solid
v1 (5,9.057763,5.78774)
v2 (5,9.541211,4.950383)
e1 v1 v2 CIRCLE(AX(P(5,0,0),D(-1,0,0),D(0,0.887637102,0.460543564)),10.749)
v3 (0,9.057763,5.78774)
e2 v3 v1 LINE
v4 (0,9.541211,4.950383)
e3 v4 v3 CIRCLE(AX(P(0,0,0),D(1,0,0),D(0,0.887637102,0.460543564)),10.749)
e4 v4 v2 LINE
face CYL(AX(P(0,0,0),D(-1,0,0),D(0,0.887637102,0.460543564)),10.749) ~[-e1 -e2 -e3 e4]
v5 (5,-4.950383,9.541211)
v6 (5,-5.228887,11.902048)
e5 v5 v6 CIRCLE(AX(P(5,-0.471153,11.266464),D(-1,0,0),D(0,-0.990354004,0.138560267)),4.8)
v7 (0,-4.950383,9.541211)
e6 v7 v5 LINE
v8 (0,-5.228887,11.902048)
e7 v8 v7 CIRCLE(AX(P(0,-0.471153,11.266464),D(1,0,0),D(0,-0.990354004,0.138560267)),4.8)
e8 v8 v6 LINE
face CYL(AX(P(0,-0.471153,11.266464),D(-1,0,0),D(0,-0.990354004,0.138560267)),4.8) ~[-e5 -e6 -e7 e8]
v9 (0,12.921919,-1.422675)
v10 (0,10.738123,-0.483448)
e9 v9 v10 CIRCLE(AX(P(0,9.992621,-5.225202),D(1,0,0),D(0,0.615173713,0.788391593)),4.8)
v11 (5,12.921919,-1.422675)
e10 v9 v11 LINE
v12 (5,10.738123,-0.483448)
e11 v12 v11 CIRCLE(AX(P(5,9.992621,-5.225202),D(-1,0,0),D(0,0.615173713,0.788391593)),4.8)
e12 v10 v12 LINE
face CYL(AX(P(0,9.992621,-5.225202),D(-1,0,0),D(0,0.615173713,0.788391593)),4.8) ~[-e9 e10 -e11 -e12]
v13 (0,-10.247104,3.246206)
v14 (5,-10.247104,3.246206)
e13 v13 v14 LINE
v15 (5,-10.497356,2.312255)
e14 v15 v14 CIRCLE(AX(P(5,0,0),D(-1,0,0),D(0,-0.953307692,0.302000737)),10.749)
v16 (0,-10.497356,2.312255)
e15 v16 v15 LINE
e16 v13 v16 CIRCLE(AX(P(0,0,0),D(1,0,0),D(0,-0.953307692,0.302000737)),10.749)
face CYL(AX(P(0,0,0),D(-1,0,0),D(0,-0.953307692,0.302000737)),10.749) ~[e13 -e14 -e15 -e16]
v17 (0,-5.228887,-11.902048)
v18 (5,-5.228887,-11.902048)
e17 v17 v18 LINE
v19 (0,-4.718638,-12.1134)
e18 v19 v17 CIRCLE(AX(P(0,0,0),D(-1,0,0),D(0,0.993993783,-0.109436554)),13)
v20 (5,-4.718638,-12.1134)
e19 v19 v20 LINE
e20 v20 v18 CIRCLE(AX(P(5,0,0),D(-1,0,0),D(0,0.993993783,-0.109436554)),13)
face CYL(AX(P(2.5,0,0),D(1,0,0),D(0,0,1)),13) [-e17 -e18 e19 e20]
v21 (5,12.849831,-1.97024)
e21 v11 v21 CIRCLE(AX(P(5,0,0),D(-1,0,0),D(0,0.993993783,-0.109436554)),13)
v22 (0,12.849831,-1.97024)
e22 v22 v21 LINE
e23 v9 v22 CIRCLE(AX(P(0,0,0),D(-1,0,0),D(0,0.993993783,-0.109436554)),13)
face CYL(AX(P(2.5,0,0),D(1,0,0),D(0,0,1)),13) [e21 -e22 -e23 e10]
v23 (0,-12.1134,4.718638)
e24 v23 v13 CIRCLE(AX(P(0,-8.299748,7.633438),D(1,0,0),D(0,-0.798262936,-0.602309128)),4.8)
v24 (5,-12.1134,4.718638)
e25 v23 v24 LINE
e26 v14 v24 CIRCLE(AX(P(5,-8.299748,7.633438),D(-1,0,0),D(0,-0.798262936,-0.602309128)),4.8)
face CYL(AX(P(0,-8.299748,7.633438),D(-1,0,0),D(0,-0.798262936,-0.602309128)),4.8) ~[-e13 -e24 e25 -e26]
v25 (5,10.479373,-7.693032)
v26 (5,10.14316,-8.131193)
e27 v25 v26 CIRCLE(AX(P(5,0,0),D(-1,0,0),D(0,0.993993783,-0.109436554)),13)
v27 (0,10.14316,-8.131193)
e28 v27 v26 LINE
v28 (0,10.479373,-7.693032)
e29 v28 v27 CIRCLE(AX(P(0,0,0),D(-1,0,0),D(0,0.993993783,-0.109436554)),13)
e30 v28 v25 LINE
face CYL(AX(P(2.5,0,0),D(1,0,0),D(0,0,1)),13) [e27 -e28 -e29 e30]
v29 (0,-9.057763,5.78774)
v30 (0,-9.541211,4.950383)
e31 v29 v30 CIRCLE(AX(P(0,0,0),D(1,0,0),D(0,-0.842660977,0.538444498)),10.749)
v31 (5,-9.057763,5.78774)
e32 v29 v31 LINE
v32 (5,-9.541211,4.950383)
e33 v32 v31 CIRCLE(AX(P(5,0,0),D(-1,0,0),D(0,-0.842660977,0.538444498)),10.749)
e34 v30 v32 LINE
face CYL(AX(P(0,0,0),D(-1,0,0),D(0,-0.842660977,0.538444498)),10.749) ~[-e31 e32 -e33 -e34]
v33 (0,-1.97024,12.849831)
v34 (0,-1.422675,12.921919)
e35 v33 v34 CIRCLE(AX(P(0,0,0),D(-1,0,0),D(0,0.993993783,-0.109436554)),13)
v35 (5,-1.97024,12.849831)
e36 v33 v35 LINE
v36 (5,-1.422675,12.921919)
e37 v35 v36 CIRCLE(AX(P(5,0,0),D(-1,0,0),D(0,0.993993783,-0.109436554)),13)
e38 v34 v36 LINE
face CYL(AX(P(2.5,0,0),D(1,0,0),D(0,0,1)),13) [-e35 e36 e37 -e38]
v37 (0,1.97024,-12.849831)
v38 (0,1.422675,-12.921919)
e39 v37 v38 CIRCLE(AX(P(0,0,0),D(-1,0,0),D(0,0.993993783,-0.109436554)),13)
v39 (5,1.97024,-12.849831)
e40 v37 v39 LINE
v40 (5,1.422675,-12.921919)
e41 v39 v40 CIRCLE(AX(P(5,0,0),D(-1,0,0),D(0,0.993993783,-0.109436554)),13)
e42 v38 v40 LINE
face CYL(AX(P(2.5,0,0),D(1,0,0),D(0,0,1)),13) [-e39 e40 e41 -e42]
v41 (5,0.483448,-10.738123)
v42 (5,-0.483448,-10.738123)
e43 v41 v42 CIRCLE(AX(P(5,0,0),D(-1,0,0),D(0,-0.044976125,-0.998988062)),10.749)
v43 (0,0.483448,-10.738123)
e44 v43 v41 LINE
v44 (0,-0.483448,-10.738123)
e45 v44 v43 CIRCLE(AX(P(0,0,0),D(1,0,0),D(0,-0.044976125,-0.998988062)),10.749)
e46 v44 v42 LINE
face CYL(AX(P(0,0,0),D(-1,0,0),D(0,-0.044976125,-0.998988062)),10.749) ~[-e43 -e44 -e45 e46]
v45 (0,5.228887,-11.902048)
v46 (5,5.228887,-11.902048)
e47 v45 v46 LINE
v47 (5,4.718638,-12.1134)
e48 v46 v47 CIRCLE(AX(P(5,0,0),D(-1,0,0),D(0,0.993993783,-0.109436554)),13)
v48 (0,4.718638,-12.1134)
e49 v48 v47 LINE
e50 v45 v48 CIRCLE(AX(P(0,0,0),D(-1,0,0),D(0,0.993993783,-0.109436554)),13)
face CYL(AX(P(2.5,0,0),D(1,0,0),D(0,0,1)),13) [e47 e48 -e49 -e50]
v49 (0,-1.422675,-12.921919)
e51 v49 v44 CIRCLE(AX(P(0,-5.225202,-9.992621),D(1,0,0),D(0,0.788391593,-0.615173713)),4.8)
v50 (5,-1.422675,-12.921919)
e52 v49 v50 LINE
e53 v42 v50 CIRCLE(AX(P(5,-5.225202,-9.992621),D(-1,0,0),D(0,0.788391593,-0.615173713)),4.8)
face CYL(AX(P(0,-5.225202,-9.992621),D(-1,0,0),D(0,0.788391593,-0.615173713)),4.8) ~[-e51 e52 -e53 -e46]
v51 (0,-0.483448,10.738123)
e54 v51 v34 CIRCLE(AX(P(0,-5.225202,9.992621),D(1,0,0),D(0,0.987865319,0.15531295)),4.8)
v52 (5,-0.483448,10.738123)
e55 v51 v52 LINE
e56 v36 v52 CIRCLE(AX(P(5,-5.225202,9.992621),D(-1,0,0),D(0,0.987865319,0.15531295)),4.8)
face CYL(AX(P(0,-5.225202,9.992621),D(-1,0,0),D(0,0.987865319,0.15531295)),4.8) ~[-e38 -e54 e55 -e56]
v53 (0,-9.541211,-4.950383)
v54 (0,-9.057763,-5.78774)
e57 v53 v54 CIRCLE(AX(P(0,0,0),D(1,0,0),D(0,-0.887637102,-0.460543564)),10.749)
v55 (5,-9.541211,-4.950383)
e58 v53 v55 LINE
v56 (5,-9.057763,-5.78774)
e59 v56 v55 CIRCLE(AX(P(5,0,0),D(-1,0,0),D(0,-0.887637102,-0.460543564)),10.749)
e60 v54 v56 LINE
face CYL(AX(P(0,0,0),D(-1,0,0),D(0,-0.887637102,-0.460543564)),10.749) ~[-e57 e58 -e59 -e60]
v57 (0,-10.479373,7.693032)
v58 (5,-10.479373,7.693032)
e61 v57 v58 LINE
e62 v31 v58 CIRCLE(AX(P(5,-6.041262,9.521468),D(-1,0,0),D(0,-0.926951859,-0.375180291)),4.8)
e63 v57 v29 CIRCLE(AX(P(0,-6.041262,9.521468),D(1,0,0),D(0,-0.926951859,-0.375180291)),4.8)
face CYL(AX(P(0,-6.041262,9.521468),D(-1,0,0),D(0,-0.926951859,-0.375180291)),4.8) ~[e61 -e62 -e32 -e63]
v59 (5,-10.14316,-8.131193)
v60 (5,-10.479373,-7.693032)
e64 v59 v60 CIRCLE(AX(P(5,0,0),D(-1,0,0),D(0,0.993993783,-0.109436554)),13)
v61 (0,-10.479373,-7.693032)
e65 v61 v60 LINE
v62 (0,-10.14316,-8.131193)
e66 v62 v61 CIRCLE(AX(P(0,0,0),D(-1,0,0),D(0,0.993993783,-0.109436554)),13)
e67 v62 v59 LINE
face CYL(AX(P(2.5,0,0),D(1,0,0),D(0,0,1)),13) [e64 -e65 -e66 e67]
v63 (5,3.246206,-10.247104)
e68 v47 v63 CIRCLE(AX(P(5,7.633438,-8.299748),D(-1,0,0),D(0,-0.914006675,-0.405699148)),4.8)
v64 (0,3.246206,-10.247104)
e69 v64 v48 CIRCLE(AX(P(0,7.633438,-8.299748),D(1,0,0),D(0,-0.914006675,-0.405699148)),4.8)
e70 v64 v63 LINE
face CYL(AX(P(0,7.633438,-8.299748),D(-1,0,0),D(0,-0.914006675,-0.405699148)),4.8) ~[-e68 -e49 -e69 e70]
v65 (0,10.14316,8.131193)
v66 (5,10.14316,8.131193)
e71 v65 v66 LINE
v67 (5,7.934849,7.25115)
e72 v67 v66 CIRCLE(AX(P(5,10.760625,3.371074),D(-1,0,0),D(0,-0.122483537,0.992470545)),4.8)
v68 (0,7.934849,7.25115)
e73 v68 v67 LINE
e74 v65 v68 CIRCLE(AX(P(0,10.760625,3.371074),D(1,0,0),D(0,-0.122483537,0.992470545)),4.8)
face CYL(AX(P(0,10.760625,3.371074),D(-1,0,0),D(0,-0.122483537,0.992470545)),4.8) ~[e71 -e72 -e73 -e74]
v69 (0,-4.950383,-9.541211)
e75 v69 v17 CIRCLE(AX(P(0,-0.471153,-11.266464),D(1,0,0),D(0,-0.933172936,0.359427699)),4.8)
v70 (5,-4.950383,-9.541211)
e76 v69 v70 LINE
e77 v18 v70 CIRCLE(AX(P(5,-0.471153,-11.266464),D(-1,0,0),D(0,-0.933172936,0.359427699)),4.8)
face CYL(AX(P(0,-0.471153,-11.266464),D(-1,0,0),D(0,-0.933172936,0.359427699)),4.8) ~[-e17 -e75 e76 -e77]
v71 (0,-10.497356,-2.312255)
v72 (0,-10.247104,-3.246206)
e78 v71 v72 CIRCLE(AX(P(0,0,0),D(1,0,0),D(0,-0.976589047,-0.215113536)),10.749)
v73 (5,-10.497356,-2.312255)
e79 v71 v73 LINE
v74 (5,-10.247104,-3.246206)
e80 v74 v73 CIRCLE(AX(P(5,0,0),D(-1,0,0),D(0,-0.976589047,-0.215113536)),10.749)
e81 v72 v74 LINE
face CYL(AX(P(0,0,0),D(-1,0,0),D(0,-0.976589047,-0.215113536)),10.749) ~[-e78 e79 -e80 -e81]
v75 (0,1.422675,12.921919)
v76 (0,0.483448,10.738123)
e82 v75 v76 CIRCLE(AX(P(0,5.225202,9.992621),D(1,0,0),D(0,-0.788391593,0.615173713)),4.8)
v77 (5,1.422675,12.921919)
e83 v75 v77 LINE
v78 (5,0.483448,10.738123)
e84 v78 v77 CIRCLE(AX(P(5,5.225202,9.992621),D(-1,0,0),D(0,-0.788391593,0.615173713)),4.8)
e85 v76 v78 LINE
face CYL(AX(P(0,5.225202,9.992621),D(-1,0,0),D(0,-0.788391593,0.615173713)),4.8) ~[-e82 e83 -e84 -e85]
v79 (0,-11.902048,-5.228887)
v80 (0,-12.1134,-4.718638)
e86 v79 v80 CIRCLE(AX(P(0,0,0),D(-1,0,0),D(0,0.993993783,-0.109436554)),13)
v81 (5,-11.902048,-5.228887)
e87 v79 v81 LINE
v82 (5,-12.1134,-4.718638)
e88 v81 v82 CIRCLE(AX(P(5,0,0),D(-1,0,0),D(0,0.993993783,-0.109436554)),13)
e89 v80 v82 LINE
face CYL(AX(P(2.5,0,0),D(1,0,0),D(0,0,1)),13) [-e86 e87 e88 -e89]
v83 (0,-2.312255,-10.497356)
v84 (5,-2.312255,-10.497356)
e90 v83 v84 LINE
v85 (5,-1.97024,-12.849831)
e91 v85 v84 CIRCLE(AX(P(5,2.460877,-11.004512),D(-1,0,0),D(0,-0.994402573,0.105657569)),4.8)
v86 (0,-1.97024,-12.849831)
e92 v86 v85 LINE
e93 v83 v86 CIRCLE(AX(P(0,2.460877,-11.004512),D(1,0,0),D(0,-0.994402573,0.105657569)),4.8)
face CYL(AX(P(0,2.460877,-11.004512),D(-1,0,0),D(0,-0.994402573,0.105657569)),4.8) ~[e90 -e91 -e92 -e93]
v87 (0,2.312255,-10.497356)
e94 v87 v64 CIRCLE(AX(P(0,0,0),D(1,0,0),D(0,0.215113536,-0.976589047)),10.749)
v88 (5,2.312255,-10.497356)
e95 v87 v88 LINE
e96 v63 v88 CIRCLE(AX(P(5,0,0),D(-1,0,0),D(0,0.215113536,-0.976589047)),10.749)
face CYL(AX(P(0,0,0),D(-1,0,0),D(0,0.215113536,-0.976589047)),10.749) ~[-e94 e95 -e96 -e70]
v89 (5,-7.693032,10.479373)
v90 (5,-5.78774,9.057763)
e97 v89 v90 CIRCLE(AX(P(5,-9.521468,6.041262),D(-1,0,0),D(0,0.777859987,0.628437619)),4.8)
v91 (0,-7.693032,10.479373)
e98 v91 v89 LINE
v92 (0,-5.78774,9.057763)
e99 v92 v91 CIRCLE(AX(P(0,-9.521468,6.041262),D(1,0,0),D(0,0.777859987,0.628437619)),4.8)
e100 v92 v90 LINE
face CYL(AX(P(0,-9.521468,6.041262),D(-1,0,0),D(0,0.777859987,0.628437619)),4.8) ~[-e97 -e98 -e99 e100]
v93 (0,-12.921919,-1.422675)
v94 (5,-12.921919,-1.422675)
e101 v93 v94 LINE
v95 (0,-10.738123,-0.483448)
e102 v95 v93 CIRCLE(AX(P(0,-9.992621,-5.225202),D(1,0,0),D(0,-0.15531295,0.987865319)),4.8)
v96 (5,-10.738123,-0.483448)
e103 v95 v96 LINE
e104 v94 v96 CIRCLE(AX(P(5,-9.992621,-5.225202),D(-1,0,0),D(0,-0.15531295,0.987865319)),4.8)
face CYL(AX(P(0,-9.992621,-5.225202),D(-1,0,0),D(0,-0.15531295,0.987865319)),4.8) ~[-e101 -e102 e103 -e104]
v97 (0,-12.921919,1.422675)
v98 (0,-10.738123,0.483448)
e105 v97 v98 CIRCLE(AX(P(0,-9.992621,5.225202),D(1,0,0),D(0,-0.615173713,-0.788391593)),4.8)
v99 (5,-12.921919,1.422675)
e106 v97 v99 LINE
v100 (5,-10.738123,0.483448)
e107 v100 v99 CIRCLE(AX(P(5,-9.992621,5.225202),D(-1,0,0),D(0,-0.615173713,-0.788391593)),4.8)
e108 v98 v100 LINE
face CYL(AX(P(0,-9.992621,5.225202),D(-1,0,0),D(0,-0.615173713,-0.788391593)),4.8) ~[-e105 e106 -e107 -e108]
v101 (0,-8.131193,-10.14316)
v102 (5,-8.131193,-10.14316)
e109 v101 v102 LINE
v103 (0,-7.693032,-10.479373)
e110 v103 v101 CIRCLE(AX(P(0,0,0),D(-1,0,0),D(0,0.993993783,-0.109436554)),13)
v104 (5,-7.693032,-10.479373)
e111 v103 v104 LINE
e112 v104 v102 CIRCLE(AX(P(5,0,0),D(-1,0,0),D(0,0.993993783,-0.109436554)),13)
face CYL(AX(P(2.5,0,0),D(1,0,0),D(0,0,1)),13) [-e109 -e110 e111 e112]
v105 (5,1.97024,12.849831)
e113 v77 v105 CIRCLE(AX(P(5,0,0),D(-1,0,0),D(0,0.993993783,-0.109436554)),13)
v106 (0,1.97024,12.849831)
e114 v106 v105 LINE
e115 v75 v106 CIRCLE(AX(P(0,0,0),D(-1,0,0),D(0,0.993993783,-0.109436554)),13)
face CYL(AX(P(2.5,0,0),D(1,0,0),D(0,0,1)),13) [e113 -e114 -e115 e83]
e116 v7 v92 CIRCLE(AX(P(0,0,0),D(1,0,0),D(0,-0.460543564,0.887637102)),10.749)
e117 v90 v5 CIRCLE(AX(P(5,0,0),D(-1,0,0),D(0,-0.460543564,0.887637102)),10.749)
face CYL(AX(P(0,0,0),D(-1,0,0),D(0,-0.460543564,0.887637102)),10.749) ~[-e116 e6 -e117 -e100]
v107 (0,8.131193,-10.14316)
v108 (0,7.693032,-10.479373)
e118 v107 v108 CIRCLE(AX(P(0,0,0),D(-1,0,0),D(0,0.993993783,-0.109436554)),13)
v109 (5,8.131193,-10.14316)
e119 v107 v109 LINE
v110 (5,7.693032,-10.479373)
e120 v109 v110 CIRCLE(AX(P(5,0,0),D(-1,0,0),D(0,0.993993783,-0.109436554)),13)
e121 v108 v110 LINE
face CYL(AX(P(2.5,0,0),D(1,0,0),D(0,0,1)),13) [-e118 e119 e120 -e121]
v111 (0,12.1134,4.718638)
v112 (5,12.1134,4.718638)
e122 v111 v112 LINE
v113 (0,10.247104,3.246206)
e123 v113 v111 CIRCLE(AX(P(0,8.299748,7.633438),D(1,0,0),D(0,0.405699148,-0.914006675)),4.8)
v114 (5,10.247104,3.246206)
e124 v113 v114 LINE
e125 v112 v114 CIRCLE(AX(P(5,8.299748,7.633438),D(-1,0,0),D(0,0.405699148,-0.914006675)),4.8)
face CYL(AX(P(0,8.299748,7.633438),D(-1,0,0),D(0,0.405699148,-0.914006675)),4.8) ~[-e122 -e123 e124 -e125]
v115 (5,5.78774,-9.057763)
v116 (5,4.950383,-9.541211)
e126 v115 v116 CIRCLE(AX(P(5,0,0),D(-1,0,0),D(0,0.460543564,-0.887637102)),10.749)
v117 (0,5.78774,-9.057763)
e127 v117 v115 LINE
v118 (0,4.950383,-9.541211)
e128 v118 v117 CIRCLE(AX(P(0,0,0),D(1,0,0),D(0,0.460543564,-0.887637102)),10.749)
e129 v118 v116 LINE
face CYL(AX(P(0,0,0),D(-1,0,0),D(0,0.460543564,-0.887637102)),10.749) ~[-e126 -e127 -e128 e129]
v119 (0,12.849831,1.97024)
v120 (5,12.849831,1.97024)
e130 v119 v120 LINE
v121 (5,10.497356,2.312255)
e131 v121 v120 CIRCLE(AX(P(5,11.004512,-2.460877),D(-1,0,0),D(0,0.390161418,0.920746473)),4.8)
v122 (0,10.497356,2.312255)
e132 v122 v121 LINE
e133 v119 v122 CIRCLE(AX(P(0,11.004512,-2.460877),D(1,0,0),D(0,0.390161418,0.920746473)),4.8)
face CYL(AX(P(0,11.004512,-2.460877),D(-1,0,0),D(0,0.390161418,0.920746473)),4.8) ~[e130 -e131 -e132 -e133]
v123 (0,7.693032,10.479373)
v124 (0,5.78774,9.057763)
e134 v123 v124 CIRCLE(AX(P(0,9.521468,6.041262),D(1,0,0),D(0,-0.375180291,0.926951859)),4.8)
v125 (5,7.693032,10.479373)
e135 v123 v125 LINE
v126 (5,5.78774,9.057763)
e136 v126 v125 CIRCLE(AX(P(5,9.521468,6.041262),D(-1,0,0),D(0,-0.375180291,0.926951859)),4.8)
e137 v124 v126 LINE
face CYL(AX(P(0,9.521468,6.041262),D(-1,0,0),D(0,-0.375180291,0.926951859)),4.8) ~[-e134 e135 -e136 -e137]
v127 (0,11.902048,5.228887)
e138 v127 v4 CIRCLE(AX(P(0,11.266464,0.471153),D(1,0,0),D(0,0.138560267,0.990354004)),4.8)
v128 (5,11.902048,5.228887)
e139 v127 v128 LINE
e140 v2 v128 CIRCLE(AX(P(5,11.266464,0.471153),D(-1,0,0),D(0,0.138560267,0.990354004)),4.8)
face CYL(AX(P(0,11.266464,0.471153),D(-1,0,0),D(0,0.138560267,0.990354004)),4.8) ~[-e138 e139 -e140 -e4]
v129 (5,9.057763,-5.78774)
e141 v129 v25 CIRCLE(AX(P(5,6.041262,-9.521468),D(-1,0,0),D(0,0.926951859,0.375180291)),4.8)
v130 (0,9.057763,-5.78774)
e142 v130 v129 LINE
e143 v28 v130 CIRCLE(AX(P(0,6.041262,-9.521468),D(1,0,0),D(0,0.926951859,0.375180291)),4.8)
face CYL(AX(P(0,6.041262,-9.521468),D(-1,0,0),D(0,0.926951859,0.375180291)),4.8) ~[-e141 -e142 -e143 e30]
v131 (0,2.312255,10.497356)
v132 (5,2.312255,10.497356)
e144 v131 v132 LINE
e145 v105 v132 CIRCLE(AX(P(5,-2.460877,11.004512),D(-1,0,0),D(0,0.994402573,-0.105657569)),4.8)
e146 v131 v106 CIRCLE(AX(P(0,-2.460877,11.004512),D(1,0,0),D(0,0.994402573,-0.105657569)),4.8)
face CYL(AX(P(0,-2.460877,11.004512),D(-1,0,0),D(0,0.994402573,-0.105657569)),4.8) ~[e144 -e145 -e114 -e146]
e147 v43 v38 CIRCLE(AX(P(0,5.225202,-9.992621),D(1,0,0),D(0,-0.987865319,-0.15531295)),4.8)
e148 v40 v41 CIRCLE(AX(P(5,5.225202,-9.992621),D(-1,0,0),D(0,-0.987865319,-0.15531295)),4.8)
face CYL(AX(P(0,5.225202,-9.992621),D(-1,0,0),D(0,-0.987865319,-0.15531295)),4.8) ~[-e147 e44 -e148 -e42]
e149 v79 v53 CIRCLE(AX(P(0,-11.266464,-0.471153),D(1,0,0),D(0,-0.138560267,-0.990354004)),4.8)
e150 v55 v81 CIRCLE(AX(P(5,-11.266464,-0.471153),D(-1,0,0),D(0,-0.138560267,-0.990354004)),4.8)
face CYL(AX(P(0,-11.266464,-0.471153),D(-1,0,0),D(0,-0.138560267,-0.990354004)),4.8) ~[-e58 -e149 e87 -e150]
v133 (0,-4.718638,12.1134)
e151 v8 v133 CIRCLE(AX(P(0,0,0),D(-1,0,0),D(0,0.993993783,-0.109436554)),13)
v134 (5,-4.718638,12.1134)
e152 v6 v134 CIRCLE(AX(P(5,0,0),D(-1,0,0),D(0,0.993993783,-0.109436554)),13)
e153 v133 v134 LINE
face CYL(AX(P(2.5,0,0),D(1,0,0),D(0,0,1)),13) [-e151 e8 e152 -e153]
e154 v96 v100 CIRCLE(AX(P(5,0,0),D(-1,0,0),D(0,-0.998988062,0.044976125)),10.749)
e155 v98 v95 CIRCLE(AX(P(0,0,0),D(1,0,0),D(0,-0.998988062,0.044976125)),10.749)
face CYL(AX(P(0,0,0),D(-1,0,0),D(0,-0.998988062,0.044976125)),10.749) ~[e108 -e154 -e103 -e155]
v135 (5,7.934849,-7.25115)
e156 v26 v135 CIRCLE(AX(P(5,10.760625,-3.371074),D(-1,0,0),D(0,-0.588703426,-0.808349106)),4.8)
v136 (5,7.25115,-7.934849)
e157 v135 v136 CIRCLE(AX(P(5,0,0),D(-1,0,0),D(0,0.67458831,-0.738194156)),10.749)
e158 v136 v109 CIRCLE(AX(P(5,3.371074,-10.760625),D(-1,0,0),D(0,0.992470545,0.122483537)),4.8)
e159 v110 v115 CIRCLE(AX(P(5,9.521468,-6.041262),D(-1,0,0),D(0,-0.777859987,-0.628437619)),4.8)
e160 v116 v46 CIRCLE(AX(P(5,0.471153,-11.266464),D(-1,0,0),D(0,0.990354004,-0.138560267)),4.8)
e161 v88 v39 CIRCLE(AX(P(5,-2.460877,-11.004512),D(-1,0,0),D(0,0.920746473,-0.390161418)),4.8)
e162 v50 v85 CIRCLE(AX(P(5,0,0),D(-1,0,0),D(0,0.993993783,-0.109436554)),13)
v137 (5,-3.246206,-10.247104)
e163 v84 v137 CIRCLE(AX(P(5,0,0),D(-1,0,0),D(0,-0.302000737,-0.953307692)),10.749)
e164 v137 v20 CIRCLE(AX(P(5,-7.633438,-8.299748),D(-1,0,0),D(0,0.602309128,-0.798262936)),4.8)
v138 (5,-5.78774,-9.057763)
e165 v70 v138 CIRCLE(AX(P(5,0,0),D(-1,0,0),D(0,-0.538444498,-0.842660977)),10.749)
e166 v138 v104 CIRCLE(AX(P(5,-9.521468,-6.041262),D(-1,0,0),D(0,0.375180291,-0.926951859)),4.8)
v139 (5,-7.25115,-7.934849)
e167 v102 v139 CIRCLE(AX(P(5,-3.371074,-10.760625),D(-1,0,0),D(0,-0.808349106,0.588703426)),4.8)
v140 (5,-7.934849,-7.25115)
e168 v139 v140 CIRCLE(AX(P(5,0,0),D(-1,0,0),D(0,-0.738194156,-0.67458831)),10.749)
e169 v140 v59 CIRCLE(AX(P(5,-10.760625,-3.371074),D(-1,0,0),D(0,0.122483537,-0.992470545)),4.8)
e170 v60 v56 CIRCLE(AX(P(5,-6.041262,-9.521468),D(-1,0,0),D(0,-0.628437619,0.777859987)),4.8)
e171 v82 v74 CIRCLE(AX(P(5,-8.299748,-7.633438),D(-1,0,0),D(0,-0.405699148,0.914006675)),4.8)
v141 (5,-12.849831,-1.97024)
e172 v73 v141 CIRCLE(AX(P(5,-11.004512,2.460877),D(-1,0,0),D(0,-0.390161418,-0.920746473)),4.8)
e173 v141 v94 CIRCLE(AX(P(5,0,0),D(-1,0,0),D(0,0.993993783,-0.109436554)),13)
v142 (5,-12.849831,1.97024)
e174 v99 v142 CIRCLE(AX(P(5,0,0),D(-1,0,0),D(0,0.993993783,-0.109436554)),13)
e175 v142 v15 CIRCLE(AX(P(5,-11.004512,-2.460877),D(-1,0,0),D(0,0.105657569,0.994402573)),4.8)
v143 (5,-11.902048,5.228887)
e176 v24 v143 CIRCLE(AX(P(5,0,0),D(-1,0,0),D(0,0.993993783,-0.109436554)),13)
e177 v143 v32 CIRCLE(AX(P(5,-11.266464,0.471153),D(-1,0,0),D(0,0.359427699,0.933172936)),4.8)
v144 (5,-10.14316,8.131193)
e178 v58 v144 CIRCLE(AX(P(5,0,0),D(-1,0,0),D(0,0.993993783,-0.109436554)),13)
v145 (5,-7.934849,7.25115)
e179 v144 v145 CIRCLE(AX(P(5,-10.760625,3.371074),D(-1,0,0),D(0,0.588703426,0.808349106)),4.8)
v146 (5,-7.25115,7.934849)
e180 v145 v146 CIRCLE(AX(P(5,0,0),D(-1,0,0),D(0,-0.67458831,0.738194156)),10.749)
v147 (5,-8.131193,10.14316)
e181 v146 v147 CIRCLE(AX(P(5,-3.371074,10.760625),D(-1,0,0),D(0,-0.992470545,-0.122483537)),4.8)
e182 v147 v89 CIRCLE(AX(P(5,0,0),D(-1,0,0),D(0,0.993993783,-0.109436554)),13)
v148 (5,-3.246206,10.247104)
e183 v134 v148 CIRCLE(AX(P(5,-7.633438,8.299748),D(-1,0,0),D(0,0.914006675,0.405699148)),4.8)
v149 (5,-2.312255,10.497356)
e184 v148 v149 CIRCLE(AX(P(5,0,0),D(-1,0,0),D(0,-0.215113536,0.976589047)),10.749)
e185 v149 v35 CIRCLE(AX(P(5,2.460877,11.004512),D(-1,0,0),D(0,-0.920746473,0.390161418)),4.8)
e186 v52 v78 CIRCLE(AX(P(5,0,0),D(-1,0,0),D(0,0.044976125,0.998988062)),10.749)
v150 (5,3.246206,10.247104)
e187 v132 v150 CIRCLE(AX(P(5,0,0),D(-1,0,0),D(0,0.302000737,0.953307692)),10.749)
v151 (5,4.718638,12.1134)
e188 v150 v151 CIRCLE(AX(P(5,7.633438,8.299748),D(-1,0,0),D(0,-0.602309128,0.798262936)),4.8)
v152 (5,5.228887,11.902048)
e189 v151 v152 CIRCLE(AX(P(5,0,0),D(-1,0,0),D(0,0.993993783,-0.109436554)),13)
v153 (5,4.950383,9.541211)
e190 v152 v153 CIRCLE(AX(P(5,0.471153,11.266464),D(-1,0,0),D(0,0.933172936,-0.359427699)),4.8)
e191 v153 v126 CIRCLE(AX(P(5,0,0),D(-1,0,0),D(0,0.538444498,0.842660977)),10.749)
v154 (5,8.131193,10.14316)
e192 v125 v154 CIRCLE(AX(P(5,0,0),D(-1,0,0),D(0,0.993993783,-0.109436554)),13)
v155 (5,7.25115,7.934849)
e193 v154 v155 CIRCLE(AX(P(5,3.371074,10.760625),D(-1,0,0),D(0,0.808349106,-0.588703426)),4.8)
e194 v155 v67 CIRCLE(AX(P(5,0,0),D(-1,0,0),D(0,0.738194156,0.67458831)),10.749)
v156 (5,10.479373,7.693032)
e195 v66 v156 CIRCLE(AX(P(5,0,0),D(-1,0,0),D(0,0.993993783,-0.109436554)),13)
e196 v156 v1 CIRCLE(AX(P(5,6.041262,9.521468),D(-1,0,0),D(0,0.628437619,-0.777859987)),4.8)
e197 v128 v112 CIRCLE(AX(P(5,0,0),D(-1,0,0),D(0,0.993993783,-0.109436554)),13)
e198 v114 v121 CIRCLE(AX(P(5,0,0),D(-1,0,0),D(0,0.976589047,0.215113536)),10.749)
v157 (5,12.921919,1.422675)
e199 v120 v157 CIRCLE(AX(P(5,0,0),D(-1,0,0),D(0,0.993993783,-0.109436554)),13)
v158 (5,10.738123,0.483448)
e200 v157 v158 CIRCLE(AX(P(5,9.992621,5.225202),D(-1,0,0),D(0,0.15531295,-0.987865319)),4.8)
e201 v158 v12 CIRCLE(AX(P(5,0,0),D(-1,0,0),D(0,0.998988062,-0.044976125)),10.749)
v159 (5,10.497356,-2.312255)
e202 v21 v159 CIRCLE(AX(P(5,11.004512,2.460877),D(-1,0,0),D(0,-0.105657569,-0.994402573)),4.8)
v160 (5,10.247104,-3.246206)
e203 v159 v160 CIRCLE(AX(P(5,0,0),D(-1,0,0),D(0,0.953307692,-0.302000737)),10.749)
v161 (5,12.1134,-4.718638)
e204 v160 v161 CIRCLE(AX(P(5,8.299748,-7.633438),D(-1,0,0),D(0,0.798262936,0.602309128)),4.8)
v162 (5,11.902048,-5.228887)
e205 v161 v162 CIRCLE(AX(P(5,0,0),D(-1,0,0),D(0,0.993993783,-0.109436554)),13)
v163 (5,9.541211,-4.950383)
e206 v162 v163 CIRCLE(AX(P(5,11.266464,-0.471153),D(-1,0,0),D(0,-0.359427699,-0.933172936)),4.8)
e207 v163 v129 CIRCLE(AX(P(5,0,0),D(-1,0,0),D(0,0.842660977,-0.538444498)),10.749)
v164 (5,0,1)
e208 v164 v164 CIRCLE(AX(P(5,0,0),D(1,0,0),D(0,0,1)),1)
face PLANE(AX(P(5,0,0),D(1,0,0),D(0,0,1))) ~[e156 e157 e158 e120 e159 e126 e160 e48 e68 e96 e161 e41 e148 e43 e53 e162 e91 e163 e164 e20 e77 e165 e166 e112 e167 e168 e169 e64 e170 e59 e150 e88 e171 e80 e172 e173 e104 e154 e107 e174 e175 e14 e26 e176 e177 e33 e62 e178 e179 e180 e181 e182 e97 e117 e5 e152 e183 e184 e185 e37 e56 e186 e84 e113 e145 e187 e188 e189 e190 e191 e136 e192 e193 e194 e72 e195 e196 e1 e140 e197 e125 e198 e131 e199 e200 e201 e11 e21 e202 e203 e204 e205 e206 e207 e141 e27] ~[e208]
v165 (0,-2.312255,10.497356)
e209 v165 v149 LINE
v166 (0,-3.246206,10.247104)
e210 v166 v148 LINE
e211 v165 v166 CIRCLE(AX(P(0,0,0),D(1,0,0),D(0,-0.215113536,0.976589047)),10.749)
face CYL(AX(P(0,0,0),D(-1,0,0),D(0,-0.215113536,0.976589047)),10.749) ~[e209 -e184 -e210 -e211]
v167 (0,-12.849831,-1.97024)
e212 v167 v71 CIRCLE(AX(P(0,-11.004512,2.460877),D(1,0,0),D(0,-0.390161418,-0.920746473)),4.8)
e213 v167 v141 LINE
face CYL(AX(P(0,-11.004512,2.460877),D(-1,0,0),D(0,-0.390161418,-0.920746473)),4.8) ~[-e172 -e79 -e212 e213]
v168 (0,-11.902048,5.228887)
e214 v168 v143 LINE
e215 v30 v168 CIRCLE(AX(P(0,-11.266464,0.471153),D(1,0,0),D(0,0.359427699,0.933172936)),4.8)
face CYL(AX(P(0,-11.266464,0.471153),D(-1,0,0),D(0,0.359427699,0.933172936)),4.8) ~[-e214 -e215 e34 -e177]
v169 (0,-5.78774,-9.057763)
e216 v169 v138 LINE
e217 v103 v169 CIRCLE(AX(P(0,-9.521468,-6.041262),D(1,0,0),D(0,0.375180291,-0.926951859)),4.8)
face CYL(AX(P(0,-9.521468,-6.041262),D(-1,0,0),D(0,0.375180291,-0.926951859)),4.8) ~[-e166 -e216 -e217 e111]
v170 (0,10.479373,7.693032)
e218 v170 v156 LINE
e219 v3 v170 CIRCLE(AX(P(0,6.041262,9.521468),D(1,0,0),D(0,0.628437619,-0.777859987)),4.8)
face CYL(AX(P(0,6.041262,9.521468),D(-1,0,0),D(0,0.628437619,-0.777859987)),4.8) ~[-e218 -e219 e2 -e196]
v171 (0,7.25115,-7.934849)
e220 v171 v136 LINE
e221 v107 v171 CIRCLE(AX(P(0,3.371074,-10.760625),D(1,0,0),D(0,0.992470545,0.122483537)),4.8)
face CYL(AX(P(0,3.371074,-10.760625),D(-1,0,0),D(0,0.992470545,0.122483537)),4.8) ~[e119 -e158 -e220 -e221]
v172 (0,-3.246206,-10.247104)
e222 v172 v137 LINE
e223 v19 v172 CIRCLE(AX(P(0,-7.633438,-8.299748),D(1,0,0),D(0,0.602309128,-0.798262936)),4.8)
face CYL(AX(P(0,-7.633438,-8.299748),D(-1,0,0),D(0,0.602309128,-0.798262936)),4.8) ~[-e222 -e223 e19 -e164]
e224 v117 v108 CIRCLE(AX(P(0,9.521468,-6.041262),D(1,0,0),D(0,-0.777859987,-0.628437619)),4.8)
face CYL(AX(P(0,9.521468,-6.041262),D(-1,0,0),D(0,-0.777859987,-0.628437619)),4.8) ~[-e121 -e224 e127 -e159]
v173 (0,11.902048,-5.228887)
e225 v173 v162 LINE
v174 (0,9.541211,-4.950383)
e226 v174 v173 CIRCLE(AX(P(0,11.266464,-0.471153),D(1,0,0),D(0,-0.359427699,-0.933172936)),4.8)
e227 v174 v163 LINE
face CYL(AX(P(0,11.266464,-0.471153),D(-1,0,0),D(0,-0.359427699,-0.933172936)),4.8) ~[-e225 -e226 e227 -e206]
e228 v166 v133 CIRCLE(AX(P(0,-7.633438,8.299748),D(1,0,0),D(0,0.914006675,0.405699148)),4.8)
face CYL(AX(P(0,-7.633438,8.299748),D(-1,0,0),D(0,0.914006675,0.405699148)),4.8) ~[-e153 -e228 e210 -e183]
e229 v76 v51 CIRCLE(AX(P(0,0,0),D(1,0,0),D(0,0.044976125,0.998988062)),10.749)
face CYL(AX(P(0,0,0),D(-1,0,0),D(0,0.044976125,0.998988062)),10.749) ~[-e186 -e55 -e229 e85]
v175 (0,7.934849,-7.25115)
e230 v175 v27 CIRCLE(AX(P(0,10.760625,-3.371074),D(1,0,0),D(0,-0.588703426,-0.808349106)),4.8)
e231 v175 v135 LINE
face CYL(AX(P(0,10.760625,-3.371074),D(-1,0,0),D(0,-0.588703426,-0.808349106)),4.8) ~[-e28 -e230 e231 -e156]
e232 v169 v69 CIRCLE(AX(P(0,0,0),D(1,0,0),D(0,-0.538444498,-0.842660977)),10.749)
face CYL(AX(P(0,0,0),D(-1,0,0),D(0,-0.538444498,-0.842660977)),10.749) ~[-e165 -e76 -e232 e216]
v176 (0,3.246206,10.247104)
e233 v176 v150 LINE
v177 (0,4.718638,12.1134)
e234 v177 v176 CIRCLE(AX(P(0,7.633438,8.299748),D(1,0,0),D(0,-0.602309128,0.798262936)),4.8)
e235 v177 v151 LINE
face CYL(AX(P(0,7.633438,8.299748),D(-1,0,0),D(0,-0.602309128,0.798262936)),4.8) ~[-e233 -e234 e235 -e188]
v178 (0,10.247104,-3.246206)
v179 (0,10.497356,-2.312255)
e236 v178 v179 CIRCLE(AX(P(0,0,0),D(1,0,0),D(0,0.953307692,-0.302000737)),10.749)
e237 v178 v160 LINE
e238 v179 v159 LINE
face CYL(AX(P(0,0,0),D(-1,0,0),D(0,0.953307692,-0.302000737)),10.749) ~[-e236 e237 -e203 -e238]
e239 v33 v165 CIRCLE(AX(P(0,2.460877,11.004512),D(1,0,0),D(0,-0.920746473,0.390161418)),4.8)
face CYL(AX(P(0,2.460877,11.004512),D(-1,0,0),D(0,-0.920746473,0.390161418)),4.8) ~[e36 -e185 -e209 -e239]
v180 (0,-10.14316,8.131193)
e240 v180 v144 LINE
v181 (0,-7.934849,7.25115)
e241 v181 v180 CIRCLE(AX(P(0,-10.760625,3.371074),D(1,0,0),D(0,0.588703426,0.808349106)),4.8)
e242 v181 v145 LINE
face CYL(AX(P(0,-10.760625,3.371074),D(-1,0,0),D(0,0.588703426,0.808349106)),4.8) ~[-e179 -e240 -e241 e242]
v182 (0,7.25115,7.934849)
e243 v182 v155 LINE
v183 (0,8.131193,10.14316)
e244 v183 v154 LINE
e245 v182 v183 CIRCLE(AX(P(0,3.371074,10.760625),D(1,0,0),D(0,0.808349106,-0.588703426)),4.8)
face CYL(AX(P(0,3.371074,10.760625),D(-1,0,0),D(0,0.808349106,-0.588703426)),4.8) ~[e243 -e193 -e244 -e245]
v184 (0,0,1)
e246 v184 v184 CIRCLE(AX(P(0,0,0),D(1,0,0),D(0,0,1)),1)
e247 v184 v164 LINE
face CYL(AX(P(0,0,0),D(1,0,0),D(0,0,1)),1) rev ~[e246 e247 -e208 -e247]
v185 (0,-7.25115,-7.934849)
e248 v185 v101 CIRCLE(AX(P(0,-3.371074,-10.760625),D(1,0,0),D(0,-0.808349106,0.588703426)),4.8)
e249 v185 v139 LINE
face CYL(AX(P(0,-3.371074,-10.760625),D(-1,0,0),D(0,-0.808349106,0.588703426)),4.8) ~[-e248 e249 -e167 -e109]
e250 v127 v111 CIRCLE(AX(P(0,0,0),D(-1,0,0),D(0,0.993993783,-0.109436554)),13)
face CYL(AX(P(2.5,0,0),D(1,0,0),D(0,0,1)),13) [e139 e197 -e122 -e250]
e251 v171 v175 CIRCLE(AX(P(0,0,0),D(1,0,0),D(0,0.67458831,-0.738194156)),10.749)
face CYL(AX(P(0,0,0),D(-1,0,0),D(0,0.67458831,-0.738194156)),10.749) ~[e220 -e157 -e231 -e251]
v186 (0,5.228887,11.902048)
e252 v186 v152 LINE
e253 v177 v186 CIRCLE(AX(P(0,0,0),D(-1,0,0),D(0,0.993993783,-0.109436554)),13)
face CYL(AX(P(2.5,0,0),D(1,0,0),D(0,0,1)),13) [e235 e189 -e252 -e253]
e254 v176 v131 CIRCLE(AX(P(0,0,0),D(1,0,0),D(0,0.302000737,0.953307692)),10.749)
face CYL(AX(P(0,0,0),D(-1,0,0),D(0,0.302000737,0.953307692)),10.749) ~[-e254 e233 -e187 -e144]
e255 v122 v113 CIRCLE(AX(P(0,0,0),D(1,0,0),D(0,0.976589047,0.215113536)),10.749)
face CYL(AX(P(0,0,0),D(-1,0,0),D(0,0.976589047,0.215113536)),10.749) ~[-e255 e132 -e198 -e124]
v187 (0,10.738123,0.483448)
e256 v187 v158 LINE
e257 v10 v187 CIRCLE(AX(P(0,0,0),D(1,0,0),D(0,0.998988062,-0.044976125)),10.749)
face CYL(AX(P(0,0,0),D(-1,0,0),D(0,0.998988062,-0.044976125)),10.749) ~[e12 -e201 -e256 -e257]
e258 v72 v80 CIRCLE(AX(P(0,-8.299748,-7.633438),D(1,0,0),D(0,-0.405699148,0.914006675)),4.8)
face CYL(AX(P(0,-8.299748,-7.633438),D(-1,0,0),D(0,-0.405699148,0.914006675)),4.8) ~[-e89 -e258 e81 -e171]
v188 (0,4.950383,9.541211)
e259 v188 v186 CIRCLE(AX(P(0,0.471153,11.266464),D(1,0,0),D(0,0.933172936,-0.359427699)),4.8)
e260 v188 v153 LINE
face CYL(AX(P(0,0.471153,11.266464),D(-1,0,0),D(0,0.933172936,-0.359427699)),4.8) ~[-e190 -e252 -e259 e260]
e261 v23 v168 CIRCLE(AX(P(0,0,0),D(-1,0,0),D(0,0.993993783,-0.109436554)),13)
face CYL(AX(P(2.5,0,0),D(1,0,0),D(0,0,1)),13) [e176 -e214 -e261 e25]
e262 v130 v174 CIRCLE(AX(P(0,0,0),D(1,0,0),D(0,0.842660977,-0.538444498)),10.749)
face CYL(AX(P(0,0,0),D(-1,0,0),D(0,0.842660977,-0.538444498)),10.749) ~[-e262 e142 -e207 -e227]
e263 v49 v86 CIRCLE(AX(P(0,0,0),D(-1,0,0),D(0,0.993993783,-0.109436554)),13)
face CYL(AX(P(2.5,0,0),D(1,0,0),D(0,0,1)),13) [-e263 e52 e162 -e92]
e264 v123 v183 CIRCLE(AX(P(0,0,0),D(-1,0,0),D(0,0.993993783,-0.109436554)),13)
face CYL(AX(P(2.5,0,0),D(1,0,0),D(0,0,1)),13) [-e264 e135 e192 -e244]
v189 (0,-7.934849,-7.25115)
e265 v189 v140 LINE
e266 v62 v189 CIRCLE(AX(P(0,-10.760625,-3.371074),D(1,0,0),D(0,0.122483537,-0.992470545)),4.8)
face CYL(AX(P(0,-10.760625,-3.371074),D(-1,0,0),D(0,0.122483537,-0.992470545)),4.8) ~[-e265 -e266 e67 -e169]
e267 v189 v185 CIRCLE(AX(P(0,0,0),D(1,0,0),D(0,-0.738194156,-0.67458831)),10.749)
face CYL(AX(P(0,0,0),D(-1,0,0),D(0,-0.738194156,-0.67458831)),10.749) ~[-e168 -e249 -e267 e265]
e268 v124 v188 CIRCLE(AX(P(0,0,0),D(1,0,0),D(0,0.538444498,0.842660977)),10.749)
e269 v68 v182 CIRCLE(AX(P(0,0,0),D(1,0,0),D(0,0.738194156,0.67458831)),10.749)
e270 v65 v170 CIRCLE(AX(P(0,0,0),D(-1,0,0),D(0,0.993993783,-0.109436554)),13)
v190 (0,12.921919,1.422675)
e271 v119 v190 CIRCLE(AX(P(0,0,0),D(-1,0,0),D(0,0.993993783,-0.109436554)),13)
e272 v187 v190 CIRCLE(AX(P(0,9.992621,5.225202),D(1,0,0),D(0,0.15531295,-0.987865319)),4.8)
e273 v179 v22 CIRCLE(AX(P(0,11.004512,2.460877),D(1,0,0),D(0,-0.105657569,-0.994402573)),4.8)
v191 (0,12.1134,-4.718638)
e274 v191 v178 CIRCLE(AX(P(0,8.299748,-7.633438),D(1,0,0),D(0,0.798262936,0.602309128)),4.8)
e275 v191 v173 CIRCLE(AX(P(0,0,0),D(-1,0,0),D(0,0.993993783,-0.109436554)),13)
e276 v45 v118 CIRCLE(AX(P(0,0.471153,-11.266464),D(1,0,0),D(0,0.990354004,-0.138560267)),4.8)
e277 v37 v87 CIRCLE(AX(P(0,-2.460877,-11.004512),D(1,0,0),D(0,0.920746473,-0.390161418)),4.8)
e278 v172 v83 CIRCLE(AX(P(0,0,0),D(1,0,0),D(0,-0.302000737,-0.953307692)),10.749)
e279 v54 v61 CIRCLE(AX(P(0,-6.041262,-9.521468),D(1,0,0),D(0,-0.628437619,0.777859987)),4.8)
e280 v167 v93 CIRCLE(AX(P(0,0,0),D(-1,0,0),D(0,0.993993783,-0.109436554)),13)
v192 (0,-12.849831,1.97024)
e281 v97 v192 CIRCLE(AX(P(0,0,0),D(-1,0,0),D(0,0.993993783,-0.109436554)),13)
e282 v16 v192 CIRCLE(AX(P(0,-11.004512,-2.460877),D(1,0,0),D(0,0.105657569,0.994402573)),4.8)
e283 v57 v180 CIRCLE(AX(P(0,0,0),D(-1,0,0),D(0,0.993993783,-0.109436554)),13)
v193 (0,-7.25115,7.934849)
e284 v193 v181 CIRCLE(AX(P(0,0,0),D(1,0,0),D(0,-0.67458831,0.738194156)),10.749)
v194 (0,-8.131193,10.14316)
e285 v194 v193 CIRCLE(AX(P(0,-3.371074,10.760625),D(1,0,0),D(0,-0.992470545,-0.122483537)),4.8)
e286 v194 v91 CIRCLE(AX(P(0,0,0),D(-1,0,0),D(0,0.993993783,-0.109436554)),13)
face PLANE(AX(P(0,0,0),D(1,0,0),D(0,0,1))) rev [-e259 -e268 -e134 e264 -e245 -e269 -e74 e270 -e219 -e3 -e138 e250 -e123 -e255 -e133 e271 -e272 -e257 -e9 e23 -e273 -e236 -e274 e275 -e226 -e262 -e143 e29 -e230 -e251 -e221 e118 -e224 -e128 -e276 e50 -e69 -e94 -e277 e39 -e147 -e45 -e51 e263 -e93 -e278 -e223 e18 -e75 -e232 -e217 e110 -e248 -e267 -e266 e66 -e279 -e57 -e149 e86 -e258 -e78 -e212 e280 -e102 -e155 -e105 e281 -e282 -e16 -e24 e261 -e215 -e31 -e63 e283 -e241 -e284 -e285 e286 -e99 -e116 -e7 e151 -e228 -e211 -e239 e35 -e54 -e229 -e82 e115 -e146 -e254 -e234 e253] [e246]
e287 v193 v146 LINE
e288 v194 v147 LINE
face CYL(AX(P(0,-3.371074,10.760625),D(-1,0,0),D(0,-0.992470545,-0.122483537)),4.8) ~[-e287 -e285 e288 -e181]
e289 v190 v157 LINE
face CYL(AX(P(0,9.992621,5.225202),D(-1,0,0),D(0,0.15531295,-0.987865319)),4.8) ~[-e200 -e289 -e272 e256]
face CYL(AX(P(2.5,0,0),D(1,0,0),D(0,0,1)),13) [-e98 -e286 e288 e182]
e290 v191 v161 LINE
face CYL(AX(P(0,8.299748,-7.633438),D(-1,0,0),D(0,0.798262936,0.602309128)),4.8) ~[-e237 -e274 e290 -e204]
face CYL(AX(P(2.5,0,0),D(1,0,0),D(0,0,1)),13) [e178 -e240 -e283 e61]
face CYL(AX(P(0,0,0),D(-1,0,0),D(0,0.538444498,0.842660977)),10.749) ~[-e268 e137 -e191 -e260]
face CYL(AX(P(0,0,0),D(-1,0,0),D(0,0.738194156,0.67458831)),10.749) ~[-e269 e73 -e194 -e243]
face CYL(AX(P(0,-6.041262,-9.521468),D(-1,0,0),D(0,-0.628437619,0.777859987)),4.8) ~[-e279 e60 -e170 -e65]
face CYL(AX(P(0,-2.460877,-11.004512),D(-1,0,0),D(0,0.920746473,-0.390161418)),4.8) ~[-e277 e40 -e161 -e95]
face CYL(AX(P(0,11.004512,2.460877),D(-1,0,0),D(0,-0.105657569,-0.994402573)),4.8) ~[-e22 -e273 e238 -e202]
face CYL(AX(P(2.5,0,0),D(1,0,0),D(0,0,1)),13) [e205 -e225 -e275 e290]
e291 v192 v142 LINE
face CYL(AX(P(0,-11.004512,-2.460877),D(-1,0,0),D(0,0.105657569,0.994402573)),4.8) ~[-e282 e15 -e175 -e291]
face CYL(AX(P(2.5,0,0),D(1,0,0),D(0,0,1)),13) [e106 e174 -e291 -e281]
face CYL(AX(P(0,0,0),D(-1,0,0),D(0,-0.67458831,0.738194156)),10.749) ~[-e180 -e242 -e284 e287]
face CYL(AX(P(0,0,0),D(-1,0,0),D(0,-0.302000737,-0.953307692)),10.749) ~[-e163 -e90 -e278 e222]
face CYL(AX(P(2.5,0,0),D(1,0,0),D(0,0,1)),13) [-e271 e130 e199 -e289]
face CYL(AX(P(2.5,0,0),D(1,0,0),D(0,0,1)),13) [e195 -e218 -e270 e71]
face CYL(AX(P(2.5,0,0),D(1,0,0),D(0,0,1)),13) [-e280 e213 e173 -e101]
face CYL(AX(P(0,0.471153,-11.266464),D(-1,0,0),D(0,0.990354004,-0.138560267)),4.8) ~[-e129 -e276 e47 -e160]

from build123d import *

# Parameters (mm, degrees)
BASPROSKE_W     = 5
BASPROSKE_H     = 13
TOOTHCUT_DEPTH  = 20.052558883
TEETHCUTS_COUNT = 24
TEETHCUTS_ANGLE = 345
BORSKE_R        = 1
BORE_DEPTH      = 50.0000508


with BuildPart() as part:
    # BasProSke → Base-Revolve (revolve)
    with BuildSketch(Plane(origin=(0, 0, 0), x_dir=(1, 0, 0), z_dir=(0, 1, 0))):
        with Locations((2.5, 6.5)):
            Rectangle(BASPROSKE_W, BASPROSKE_H)
    revolve(axis=Axis((-10, 0, 0), (1, 0, 0)))

    # TooCutSke → ToothCut (cut, through all)
    with BuildSketch(Plane(origin=(0, 0, 0), x_dir=(0, 0, -1), z_dir=(1, 0, 0))):
        with BuildLine():
            ThreePointArc((0.483448384, 10.738122679), (0, 10.749), (-0.483448384, 10.738122679))
            ThreePointArc((-0.483448384, 10.738122679), (-0.821636462, 11.902754369), (-1.44092227, 12.945454344))
            ThreePointArc((-1.44092227, 12.945454344), (0, 13.0254), (1.44092227, 12.945454344))
            ThreePointArc((1.44092227, 12.945454344), (0.821636462, 11.902754369), (0.483448384, 10.738122679))
        make_face()
    toothcut = extrude(amount=TOOTHCUT_DEPTH, mode=Mode.SUBTRACT)

    # TeethCuts: ToothCut ×24 about axis
    teethcuts_axis = Axis((-10, 0, 0), (1, 0, 0))
    for i in range(1, TEETHCUTS_COUNT):
        add(toothcut.rotate(teethcuts_axis, i * TEETHCUTS_ANGLE / (TEETHCUTS_COUNT - 1)), mode=Mode.SUBTRACT)

    # BorSke → Bore (cut, symmetric)
    with BuildSketch(Plane(origin=(0, 0, 0), x_dir=(0, 0, -1), z_dir=(1, 0, 0))):
        Circle(BORSKE_R)
    extrude(amount=BORE_DEPTH, both=True, mode=Mode.SUBTRACT)


solid = part.part
